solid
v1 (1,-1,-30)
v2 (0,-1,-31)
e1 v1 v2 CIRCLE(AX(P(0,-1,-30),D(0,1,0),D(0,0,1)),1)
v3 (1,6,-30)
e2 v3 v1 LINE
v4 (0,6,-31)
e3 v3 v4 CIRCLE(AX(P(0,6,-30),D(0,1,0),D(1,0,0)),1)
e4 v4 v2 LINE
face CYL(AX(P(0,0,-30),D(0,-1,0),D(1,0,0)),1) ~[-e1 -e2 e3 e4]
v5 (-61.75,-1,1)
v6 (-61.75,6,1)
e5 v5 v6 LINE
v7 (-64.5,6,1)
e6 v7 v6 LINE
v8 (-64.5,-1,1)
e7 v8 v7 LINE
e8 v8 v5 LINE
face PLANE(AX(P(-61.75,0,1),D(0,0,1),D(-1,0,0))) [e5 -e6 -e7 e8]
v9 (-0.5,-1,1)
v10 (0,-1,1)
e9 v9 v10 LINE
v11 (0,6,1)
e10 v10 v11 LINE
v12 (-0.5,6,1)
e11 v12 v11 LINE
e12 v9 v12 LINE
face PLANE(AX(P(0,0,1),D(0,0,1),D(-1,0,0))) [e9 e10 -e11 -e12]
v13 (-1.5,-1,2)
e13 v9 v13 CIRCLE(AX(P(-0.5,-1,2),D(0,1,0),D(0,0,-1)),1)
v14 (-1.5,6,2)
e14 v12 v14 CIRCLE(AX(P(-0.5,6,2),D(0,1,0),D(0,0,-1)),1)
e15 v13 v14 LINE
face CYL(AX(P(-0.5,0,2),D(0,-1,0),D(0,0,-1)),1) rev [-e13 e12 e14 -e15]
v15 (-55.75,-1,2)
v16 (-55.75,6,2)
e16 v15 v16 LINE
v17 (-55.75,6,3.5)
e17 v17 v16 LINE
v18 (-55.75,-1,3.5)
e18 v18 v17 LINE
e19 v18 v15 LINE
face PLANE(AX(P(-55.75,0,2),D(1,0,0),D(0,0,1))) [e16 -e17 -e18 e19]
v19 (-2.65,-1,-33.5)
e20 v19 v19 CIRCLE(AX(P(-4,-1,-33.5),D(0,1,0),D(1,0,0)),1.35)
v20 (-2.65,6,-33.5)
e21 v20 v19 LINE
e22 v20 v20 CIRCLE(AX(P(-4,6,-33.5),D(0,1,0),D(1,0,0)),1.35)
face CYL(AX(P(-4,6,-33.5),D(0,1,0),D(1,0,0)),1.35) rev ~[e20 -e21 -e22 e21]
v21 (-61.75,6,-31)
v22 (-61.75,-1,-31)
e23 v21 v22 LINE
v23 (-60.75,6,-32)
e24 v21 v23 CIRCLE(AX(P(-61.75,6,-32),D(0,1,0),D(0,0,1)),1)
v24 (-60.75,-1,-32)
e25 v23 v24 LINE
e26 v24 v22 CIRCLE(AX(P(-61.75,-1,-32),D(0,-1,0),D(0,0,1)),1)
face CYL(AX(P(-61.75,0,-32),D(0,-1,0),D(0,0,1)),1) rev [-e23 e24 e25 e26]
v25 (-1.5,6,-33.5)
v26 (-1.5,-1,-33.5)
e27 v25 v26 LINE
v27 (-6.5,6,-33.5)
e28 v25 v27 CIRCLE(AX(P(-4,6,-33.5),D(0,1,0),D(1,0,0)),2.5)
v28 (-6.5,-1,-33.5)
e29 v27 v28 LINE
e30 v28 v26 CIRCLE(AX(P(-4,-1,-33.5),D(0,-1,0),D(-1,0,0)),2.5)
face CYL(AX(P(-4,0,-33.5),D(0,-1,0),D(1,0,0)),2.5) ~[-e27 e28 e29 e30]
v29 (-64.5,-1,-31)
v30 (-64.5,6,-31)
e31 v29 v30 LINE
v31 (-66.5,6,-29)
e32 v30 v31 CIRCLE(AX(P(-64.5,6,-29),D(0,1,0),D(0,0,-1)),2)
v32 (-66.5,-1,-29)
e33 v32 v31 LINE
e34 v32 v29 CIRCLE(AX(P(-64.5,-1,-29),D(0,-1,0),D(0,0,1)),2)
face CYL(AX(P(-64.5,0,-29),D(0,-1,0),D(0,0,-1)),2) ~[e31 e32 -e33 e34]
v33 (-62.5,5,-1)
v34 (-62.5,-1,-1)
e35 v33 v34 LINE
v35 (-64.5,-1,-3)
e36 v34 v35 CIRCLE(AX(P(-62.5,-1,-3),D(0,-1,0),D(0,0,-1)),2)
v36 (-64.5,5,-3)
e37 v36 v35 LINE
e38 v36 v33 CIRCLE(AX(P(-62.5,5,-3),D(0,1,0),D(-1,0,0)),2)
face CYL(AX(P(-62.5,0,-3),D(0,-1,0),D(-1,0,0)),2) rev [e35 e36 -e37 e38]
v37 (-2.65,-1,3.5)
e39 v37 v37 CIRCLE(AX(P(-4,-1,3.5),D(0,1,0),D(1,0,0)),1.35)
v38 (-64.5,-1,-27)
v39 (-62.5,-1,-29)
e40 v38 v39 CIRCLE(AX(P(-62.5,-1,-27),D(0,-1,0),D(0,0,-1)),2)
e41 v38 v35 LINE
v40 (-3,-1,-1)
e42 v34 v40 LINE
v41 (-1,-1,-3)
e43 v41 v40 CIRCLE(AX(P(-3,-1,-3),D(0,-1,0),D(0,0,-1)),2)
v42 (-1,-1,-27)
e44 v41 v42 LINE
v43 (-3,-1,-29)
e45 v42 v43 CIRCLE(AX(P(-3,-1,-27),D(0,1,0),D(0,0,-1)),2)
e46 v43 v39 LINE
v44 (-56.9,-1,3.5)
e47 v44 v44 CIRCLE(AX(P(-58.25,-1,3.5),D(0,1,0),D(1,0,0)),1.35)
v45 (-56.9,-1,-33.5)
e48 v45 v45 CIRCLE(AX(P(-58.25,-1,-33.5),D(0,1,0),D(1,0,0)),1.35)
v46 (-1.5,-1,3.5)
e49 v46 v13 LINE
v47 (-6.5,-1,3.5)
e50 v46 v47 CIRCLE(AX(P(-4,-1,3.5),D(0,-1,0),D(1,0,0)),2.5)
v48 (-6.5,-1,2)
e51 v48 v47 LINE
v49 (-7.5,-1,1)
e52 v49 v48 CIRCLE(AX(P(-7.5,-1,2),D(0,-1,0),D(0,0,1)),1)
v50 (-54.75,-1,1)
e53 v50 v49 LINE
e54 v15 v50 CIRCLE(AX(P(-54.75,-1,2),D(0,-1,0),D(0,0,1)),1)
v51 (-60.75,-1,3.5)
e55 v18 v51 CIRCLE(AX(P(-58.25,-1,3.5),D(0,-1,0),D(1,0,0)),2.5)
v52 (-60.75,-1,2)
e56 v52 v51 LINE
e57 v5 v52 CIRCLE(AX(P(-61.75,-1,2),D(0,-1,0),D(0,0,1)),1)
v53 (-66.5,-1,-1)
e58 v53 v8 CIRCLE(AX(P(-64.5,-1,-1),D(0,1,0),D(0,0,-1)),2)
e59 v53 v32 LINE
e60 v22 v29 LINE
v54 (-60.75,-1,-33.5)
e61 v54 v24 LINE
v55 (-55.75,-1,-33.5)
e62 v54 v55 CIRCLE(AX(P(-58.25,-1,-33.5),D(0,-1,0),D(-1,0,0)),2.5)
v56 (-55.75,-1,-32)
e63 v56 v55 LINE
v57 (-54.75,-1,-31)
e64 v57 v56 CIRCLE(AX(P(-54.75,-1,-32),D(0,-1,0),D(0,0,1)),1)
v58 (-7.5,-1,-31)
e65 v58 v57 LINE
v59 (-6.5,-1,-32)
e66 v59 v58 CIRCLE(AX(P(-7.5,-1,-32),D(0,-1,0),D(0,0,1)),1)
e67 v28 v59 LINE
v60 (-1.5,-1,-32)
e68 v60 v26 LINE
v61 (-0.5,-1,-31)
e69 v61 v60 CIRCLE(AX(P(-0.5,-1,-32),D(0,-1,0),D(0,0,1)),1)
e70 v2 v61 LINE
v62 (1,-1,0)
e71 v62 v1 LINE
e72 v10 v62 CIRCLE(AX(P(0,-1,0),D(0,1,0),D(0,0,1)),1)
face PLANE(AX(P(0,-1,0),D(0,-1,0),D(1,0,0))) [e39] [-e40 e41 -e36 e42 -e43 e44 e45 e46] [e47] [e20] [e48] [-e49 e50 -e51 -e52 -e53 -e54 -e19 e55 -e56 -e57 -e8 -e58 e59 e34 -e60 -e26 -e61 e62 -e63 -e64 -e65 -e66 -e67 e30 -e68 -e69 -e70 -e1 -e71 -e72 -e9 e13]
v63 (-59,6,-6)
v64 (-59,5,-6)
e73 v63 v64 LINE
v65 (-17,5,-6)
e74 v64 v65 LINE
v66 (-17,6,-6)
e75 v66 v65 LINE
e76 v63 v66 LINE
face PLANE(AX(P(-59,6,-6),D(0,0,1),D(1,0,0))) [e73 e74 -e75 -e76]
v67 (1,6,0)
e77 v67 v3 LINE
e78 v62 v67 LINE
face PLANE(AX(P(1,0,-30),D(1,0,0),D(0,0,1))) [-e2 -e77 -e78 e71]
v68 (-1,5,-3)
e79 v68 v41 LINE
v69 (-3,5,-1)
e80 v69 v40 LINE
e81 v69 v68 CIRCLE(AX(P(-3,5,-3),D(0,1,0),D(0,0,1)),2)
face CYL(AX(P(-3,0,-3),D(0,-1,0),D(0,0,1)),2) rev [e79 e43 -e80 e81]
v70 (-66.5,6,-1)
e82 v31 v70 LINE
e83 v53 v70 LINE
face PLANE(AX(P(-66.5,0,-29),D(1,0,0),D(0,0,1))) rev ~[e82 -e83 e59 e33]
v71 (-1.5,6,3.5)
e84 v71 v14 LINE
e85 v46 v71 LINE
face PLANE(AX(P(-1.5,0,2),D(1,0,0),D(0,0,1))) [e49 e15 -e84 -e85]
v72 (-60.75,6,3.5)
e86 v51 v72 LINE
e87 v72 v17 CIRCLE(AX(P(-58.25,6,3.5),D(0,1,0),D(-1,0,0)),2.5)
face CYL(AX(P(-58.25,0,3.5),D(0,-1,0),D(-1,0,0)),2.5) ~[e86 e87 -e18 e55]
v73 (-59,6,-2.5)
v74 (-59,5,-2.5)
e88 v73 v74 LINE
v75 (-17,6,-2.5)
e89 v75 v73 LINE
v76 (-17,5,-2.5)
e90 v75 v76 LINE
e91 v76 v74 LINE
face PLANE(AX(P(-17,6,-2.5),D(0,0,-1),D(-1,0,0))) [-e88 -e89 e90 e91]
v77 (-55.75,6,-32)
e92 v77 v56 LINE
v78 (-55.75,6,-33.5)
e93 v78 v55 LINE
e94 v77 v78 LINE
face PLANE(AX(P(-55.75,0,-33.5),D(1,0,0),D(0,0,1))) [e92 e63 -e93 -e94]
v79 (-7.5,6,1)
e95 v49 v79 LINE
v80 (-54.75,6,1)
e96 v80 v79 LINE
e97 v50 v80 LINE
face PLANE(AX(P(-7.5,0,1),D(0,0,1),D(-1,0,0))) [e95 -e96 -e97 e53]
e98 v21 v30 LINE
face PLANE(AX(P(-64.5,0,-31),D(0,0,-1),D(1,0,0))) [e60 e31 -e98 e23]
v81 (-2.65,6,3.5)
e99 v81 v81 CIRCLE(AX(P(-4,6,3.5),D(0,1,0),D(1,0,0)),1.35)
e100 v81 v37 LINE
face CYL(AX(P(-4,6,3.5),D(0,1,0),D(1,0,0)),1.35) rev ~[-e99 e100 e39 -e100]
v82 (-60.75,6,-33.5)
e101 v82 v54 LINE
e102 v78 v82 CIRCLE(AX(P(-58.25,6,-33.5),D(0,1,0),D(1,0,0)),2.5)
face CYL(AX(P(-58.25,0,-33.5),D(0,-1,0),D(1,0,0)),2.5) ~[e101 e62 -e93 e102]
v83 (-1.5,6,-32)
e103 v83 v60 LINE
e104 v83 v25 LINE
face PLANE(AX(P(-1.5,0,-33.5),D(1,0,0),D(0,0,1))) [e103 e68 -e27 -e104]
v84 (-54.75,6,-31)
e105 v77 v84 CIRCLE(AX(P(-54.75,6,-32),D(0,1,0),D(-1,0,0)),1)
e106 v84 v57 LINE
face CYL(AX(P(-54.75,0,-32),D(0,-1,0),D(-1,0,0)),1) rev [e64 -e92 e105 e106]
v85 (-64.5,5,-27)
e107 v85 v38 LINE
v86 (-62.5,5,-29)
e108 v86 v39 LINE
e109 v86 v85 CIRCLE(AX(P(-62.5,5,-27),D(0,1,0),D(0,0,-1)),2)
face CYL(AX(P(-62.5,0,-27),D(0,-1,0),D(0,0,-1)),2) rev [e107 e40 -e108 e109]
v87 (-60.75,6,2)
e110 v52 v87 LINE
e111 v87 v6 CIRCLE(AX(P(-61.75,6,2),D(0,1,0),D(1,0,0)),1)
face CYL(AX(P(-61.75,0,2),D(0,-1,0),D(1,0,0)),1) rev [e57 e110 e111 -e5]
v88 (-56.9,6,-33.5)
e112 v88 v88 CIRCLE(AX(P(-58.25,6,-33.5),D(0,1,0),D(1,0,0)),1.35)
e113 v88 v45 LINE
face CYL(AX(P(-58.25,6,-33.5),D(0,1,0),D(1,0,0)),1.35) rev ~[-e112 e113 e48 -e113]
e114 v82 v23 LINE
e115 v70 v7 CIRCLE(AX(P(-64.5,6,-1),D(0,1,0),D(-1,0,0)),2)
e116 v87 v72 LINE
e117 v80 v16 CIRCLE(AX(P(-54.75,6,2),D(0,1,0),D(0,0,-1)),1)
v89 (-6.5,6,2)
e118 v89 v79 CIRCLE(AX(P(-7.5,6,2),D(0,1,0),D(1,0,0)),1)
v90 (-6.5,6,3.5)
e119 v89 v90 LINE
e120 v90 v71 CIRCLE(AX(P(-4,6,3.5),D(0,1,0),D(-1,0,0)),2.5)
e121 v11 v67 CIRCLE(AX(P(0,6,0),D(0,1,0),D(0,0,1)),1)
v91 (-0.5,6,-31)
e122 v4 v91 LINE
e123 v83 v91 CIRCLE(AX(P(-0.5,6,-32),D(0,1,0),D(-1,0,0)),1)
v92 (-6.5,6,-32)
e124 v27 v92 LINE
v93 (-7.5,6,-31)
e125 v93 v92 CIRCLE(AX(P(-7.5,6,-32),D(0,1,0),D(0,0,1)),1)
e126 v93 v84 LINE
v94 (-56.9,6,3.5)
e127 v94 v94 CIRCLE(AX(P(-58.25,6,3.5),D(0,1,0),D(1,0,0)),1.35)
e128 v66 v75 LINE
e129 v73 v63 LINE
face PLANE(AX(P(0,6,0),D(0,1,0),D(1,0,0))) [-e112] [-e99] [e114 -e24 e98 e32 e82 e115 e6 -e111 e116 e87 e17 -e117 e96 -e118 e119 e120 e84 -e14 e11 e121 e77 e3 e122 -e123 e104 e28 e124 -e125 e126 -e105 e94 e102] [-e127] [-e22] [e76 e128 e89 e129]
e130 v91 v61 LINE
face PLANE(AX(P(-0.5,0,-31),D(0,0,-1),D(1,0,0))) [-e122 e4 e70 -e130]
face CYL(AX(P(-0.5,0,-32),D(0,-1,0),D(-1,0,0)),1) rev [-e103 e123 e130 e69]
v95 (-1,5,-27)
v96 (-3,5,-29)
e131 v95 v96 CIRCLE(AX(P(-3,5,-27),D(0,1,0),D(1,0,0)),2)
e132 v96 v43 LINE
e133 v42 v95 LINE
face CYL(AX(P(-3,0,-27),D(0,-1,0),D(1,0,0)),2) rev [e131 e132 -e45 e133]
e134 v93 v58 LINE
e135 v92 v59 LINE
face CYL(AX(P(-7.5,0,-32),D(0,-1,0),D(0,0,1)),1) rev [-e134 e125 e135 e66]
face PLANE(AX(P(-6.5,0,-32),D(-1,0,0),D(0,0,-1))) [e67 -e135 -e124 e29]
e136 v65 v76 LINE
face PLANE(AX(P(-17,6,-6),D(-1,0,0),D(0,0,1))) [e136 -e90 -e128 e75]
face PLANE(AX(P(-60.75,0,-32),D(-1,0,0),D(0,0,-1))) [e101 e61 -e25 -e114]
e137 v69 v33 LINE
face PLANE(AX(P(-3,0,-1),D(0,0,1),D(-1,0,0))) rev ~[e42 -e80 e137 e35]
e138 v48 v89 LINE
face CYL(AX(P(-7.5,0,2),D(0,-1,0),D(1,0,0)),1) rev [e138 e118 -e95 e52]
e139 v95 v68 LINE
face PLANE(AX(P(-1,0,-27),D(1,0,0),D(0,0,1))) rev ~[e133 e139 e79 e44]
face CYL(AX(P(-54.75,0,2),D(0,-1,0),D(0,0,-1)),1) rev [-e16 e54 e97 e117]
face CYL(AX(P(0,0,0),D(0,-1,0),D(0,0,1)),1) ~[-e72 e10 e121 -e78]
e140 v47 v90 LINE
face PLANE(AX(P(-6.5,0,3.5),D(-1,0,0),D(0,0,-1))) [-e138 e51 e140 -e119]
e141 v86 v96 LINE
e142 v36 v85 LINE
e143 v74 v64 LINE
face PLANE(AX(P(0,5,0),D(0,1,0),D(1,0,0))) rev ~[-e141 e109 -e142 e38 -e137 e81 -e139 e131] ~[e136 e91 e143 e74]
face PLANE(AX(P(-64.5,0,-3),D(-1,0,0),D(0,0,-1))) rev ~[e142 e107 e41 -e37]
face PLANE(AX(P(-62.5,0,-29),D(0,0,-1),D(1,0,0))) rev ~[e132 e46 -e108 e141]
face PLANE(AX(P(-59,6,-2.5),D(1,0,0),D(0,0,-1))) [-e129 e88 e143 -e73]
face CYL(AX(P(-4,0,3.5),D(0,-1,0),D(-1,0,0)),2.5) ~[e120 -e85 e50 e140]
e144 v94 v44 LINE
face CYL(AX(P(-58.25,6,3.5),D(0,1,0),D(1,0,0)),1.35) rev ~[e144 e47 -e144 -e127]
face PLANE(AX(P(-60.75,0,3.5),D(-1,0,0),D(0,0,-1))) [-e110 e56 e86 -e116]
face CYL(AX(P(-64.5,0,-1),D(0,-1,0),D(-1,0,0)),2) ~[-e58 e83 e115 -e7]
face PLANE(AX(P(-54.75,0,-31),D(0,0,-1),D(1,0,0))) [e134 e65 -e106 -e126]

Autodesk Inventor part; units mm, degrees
ref_plane "YZ Plane" through (0, 0, 0) normal (1, 0, 0) x (0, 1, 0)
ref_plane "XZ Plane" through (0, 0, 0) normal (0, 1, 0) x (-1, 0, 0)
ref_plane "XY Plane" through (0, 0, 0) normal (0, 0, 1) x (1, 0, 0)
sketch "Sketch1" plane through (0, 0, 0) normal (0, 1, 0) x (-1, 0, 0)
  line L0 (0, 0) -> (37, 0) construction
  line L1 (37, 0) -> (37, -30) construction
  line L2 (37, -30) -> (0, -30) construction
  line L3 (0, -30) -> (0, 0) construction
  line L4 (75.5, -6) -> (38, -6) construction
  line L5 (38, -6) -> (38, -24) construction
  line L6 (38, -24) -> (75.5, -24) construction
  line L7 (75.5, -24) -> (75.5, -6) construction
  line L8 (94, 0) -> (76.5, 0) construction
  line L9 (76.5, 0) -> (76.5, -28) construction
  line L10 (76.5, -28) -> (94, -28) construction
  line L11 (94, -28) -> (94, 0) construction
  line L12 (-1, 1) -> (117.5, 1)
  line L13 (117.5, 1) -> (117.5, -31)
  line L14 (117.5, -31) -> (-1, -31)
  line L15 (-1, -31) -> (-1, 1)
  line L16 (0, 0) -> (94, 0)
  line L17 (94, 0) -> (94, -30)
  line L18 (94, -30) -> (0, -30)
  line L19 (0, -30) -> (0, 0)
  line L20 (38, -8) -> (37, -8)
  line L21 (37, -8) -> (37, -22)
  line L22 (37, -22) -> (38, -22)
  line L23 (38, -22) -> (38, -8)
  line L24 (73.5, -6) -> (40, -6)
  line L25 (40, -6) -> (40, -5)
  line L26 (40, -5) -> (73.5, -5)
  line L27 (73.5, -5) -> (73.5, -6)
  line L28 (73.5, -24) -> (40, -24)
  line L29 (40, -24) -> (40, -25)
  line L30 (40, -25) -> (73.5, -25)
  line L31 (73.5, -25) -> (73.5, -24)
  line L32 (76.5, -8) -> (75.5, -8)
  line L33 (75.5, -8) -> (75.5, -22)
  line L34 (75.5, -22) -> (76.5, -22)
  line L35 (76.5, -22) -> (76.5, -8)
  line L36 (115, -31) -> (115, -33.5) construction
  line L37 (58.25, -31) -> (58.25, -33.5) construction
  line L38 (4, -31) -> (4, -33.5) construction
  line L39 (115, 1) -> (115, 3.5) construction
  line L40 (58.25, 1) -> (58.25, 3.5) construction
  line L41 (4, 1) -> (4, 3.5) construction
  circle A0 centre (115, -33.5) radius 2.5
  circle A1 centre (58.25, -33.5) radius 2.5
  circle A2 centre (4, -33.5) radius 2.5
  circle A3 centre (4, 3.5) radius 2.5
  circle A4 centre (58.25, 3.5) radius 2.5
  circle A5 centre (115, 3.5) radius 2.5
  line L42 (117.5, 1) -> (117.5, 3.5)
  line L43 (112.5, 3.5) -> (112.5, 1)
  line L44 (60.75, 3.5) -> (60.75, 1)
  line L45 (55.75, 3.5) -> (55.75, 1)
  line L46 (6.5, 3.5) -> (6.5, 1)
  line L47 (1.5, 3.5) -> (1.5, 1)
  line L48 (1.5, -33.5) -> (1.5, -31)
  line L49 (6.5, -33.5) -> (6.5, -31)
  line L50 (55.75, -33.5) -> (55.75, -31)
  line L51 (60.75, -33.5) -> (60.75, -31)
  line L52 (117.5, -33.5) -> (117.5, -31)
  line L53 (112.5, -33.5) -> (112.5, -31)
  circle A6 centre (115, -33.5) radius 1.55
  circle A7 centre (58.25, -33.5) radius 1.55
  circle A8 centre (4, -33.5) radius 1.55
  circle A9 centre (4, 3.5) radius 1.55
  circle A10 centre (58.25, 3.5) radius 1.55
  circle A11 centre (115, 3.5) radius 1.55
  line L54 (57.75, -30) -> (58.75, -30)
  line L55 (58.75, -30) -> (58.75, -25)
  line L56 (58.75, -25) -> (57.75, -25)
  line L57 (57.75, -25) -> (57.75, -30)
  line L58 (57.75, -5) -> (58.75, -5)
  line L59 (58.75, -5) -> (58.75, 0)
  line L60 (58.75, 0) -> (57.75, 0)
  line L61 (57.75, 0) -> (57.75, -5)
  line L62 (40, -25) -> (41, -25)
  line L63 (41, -25) -> (41, -30)
  line L64 (41, -30) -> (40, -30)
  line L65 (40, -30) -> (40, -25)
  line L66 (40, -5) -> (41, -5)
  line L67 (41, -5) -> (41, 0)
  line L68 (41, 0) -> (40, 0)
  line L69 (40, 0) -> (40, -5)
  line L70 (73.5, -5) -> (72.5, -5)
  line L71 (72.5, -5) -> (72.5, 0)
  line L72 (72.5, 0) -> (73.5, 0)
  line L73 (73.5, 0) -> (73.5, -5)
  line L74 (73.5, -25) -> (72.5, -25)
  line L75 (72.5, -25) -> (72.5, -30)
  line L76 (72.5, -30) -> (73.5, -30)
  line L77 (73.5, -30) -> (73.5, -25)
  dimension "d0" = 37
  dimension "d1" = 30
  dimension "d2" = 18
  dimension "d3" = 37.5
  dimension "d4" = 1
  dimension "d5" = 6
  dimension "d6" = 17.5
  dimension "d7" = 28
  dimension "d8" = 1
  dimension "d9" = 1
  dimension "d10" = 1
  dimension "d11" = 1
  dimension "d12" = 117.5
  dimension "d13" = 2
  dimension "d14" = 2
  dimension "d15" = 1
  dimension "d16" = 1
  dimension "d17" = 2
  dimension "d18" = 2
  dimension "d19" = 2
  dimension "d20" = 2
  dimension "d21" = 2.5
  dimension "d22" = 2.5
  dimension "d23" = 5
  dimension "d24" = 2.5
  dimension "d25" = 2.5
  dimension "d26" = 2.5
  dimension "d27" = 2.5
  dimension "d28" = 5
  dimension "d29" = 5
  dimension "d30" = 2.5
  dimension "d31" = 3.1
  dimension "d32" = 3.1
  dimension "d33" = 3.1
  dimension "d34" = 3.1
  dimension "d35" = 3.1
  dimension "d36" = 3.1
  dimension "d44" = 1
  dimension "d45" = 1
  dimension "d46" = 0.5
  dimension "d47" = 0
  dimension "d48" = 1
  dimension "d49" = 1
  dimension "d50" = 1
  dimension "d51" = 1
extrude "Extrusion1" add sketch "Sketch1" along normal blind 7 contours L12 L13 L14 L15 | L47 A3 L12 | A3 L46 L12 | A3 | L14 A2 L48 | L14 L49 A2 | A2 | L45 A4 L12 | A4 L44 L12 | A4 | L14 A1 L50 | L14 L51 A1 | A1 | L43 A5 L12 | A5 L42 L12 | A5 | L14 A0 L53 | L14 L52 A0 | A0 | L16 L67 L26 L69 | L26 L27 L24 L25 | L65 L30 L63 L18 | L16 L59 L26 L61 | L29 L28 L31 L30 | L57 L30 L55 L18 | L16 L73 L26 L71 | L75 L30 L77 L18 | L23 L22 L21 L20 | L35 L34 L33 L32
sketch "Sketch2" plane through (0, 0, 0) normal (0, -1, 0) x (1, 0, 0)
  line L0 (-117.5, -33.5) -> (-117.5, 3.5) projected
  arc A0 (-117.5, -33.5) -> (-112.5, -33.5) centre (-115, -33.5) ccw projected
  line L1 (-112.5, -31) -> (-112.5, -33.5) projected
  line L2 (-60.75, -31) -> (-112.5, -31) projected
  line L3 (-60.75, -33.5) -> (-60.75, -31) projected
  arc A1 (-60.75, -33.5) -> (-55.75, -33.5) centre (-58.25, -33.5) ccw projected
  line L4 (-55.75, -31) -> (-55.75, -33.5) projected
  line L5 (-6.5, -31) -> (-55.75, -31) projected
  line L6 (-6.5, -33.5) -> (-6.5, -31) projected
  arc A2 (-6.5, -33.5) -> (-1.5, -33.5) centre (-4, -33.5) ccw projected
  line L7 (-1.5, -31) -> (-1.5, -33.5) projected
  line L8 (1, -31) -> (-1.5, -31) projected
  line L9 (1, 1) -> (1, -31) projected
  line L10 (-1.5, 1) -> (1, 1) projected
  line L11 (-1.5, 3.5) -> (-1.5, 1) projected
  arc A3 (-1.5, 3.5) -> (-6.5, 3.5) centre (-4, 3.5) ccw projected
  line L12 (-6.5, 1) -> (-6.5, 3.5) projected
  line L13 (-55.75, 1) -> (-6.5, 1) projected
  line L14 (-55.75, 3.5) -> (-55.75, 1) projected
  arc A4 (-55.75, 3.5) -> (-60.75, 3.5) centre (-58.25, 3.5) ccw projected
  line L15 (-60.75, 1) -> (-60.75, 3.5) projected
  line L16 (-112.5, 1) -> (-60.75, 1) projected
  line L17 (-112.5, 3.5) -> (-112.5, 1) projected
  arc A5 (-112.5, 3.5) -> (-117.5, 3.5) centre (-115, 3.5) ccw projected
  circle A6 centre (-58.25, 3.5) radius 1.55 projected
  circle A7 centre (-4, 3.5) radius 1.55 projected
  circle A8 centre (-4, -33.5) radius 1.55 projected
  circle A9 centre (-58.25, -33.5) radius 1.55 projected
  circle A10 centre (-115, 3.5) radius 1.55 projected
  circle A11 centre (-115, -33.5) radius 1.55 projected
  line L18 (-41, 0) -> (-57.75, 0) projected
  line L19 (0, -30) -> (0, 0) projected
  line L20 (-57.75, -30) -> (-41, -30) projected
  line L21 (-94, 0) -> (-94, -30) projected
  line L22 (-41, -5) -> (-41, 0) projected
  line L23 (-57.75, -5) -> (-41, -5) projected
  line L24 (-57.75, 0) -> (-57.75, -5) projected
  line L25 (-41, -30) -> (-41, -25) projected
  line L26 (-57.75, -25) -> (-57.75, -30) projected
  line L27 (-41, -25) -> (-57.75, -25) projected
  line L28 (-72.5, -25) -> (-72.5, -30) projected
  line L29 (-58.75, -25) -> (-72.5, -25) projected
  line L30 (-58.75, -30) -> (-58.75, -25) projected
  line L31 (-72.5, -30) -> (-58.75, -30) projected
  line L32 (-72.5, 0) -> (-72.5, -5) projected
  line L33 (-58.75, 0) -> (-72.5, 0) projected
  line L34 (-58.75, -5) -> (-58.75, 0) projected
  line L35 (-72.5, -5) -> (-58.75, -5) projected
  line L36 (-73.5, 0) -> (-94, 0) projected
  line L37 (-73.5, -6) -> (-73.5, 0) projected
  line L38 (-40, -6) -> (-73.5, -6) projected
  line L39 (-40, 0) -> (-40, -6) projected
  line L40 (0, 0) -> (-40, 0) projected
  line L41 (-40, -30) -> (0, -30) projected
  line L42 (-40, -24) -> (-40, -30) projected
  line L43 (-73.5, -24) -> (-40, -24) projected
  line L44 (-73.5, -30) -> (-73.5, -24) projected
  line L45 (-94, -30) -> (-73.5, -30) projected
extrude "Extrusion2" add sketch "Sketch2" along normal blind 1 contours L0 A5 L17 L16 L15 A4 L14 L13 L12 A3 L11 L10 L9 L8 L7 A2 L6 L5 L4 A1 L3 L2 L1 A0 | L22 L23 L24 L18 | L41 L42 L43 L44 L45 L21 L36 L37 L38 L39 L40 L19 | L26 L27 L25 L20 | L29 L30 L31 L28 | L33 L34 L35 L32
fillet "Fillet2" radius 1 32 edges at (-73.5, 3.5, -6) (-73.5, 3.5, -24) (-40, 3.5, -24) (1, 3, -31) (-1.5, 3, -31) (1, 3, 1) (-55.75, 3, -31) (-1.5, 3, 1) (-55.75, 3, 1) (-112.5, 3, 1) (-112.5, 3, -31) (-60.75, 3, -31) (-6.5, 3, -31) (-60.75, 3, 1) (-6.5, 3, 1) (-40, 3.5, -6) (-72.5, 3.5, 0) (-57.75, 3.5, 0) (-72.5, 3.5, -25) (-57.75, 3.5, -25) (-41, 3.5, -25) (-58.75, 3.5, -25) (-41, 3.5, 0) (-58.75, 3.5, 0) (-72.5, 3.5, -30) (-57.75, 3.5, -30) (-57.75, 3.5, -5) (-72.5, 3.5, -5) (-41, 3.5, -5) (-58.75, 3.5, -5) (-58.75, 3.5, -30) (-41, 3.5, -30)
sketch "Sketch5" plane through (0, 7, 0) normal (0, 1, 0) x (1, 0, 0)
  line L0 (-120.447, 38.9055) -> (3.6698, 38.9055)
  line L1 (3.6698, 38.9055) -> (3.6698, -10.7705)
  line L2 (3.6698, -10.7705) -> (-120.447, -10.7705)
  line L3 (-120.447, -10.7705) -> (-120.447, 38.9055)
  point P0 (0, 0)
extrude "Extrusion5" cut sketch "Sketch5" against normal blind 7
sketch "Sketch13" plane through (0, 0, 0) normal (0, 1, 0) x (1, 0, 0)
  line L0 (-64.5, 29) -> (-1, 29)
  line L1 (-1, 29) -> (-1, 1)
  line L2 (-1, 1) -> (-64.5, 1)
  line L3 (-64.5, 1) -> (-64.5, 29)
  line L4 (1, 30) -> (1, 0) projected
  line L5 (-54.75, 31) -> (-7.5, 31) projected
  line L6 (-7.5, -1) -> (-54.75, -1) projected
  line L7 (-117.5, -3.5) -> (-117.5, 33.5) projected
  line L8 (-77.5, 28.5) -> (-67.5, 28.5)
  line L9 (-67.5, 28.5) -> (-67.5, 21.5)
  line L10 (-67.5, 21.5) -> (-77.5, 21.5)
  line L11 (-77.5, 21.5) -> (-77.5, 28.5)
  line L12 (-77.5, 11) -> (-67.5, 11)
  line L13 (-67.5, 11) -> (-67.5, 4)
  line L14 (-67.5, 4) -> (-77.5, 4)
  line L15 (-77.5, 4) -> (-77.5, 11)
  line L16 (-111.5, 31) -> (-61.75, 31) projected
  line L17 (-61.75, -1) -> (-111.5, -1) projected
  point P0 (0, 0)
  point P1 (-77.5, 25)
  point P2 (-77.5, 7.5)
  point P3 (-67.5, 25)
  point P4 (-67.5, 7.5)
  dimension "d114" = 2
  dimension "d115" = 2
  dimension "d116" = 2
  dimension "d117" = 53
  dimension "d118" = 50
  dimension "d119" = 10
  dimension "d120" = 2.5
  dimension "d121" = 5
  dimension "d122" = 12
  dimension "d123" = 9.5
extrude "Extrusion15" cut sketch "Sketch13" against normal through all
fillet "Fillet4" radius 2 12 edges at (-64.5, -0.5, -29) (-77.5, -0.5, -28.5) (-77.5, -0.5, -11) (-1, -0.5, -29) (-1, -0.5, -1) (-67.5, -0.5, -4) (-67.5, -0.5, -21.5) (-64.5, -0.5, -1) (-77.5, -0.5, -4) (-77.5, -0.5, -21.5) (-67.5, -0.5, -28.5) (-67.5, -0.5, -11)
sketch "Sketch14" plane through (0, 0, 0) normal (0, 1, 0) x (1, 0, 0)
  line L0 (-122.4495, 38.8167) -> (-66.5, 38.8167)
  line L1 (-66.5, 38.8167) -> (-66.5, -7.5012)
  line L2 (-66.5, -7.5012) -> (-122.4495, -7.5012)
  line L3 (-122.4495, -7.5012) -> (-122.4495, 38.8167)
  line L4 (-64.5, 3) -> (-64.5, 27) projected
  point P0 (0, 0)
  dimension "d127" = 2
extrude "Extrusion16" cut sketch "Sketch14" against normal blind 10
fillet "Fillet5" radius 2 2 edges at (-66.5, -0.5, 1) (-66.5, -0.5, -31)
sketch "Sketch15" plane through (0, -1, 0) normal (0, -1, 0) x (1, 0, 0)
  point P0 (0, 0)
sketch "Sketch16" plane through (0, 0, 0) normal (0, 1, 0) x (1, 0, 0)
  arc A0 (-64.5, 31) -> (-66.5, 29) centre (-64.5, 29) ccw projected
  line L0 (-66.5, 29) -> (-66.5, 1) projected
  arc A1 (-66.5, 1) -> (-64.5, -1) centre (-64.5, 1) ccw projected
  line L1 (-61.75, -1) -> (-64.5, -1) projected
  arc A2 (-60.75, -2) -> (-61.75, -1) centre (-61.75, -2) ccw projected
  line L2 (-60.75, -3.5) -> (-60.75, -2) projected
  arc A3 (-60.75, -3.5) -> (-55.75, -3.5) centre (-58.25, -3.5) ccw projected
  line L3 (-55.75, -2) -> (-55.75, -3.5) projected
  arc A4 (-54.75, -1) -> (-55.75, -2) centre (-54.75, -2) ccw projected
  line L4 (-7.5, -1) -> (-54.75, -1) projected
  arc A5 (-6.5, -2) -> (-7.5, -1) centre (-7.5, -2) ccw projected
  line L5 (-6.5, -3.5) -> (-6.5, -2) projected
  arc A6 (-6.5, -3.5) -> (-1.5, -3.5) centre (-4, -3.5) ccw projected
  line L6 (-1.5, -2) -> (-1.5, -3.5) projected
  arc A7 (-0.5, -1) -> (-1.5, -2) centre (-0.5, -2) ccw projected
  line L7 (0, -1) -> (-0.5, -1) projected
  arc A8 (0, -1) -> (1, 0) centre (0, 0) ccw projected
  line L8 (1, 30) -> (1, 0) projected
  arc A9 (1, 30) -> (0, 31) centre (0, 30) ccw projected
  line L9 (-0.5, 31) -> (0, 31) projected
  arc A10 (-1.5, 32) -> (-0.5, 31) centre (-0.5, 32) ccw projected
  line L10 (-1.5, 33.5) -> (-1.5, 32) projected
  arc A11 (-1.5, 33.5) -> (-6.5, 33.5) centre (-4, 33.5) ccw projected
  line L11 (-6.5, 32) -> (-6.5, 33.5) projected
  arc A12 (-7.5, 31) -> (-6.5, 32) centre (-7.5, 32) ccw projected
  line L12 (-54.75, 31) -> (-7.5, 31) projected
  arc A13 (-55.75, 32) -> (-54.75, 31) centre (-54.75, 32) ccw projected
  line L13 (-55.75, 33.5) -> (-55.75, 32) projected
  arc A14 (-55.75, 33.5) -> (-60.75, 33.5) centre (-58.25, 33.5) ccw projected
  line L14 (-60.75, 32) -> (-60.75, 33.5) projected
  arc A15 (-61.75, 31) -> (-60.75, 32) centre (-61.75, 32) ccw projected
  line L15 (-64.5, 31) -> (-61.75, 31) projected
  circle A16 centre (-58.25, 33.5) radius 1.55 projected
  circle A17 centre (-4, 33.5) radius 1.55 projected
  circle A18 centre (-4, -3.5) radius 1.55 projected
  circle A19 centre (-58.25, -3.5) radius 1.55 projected
  line L16 (-1, 27) -> (-1, 3) projected
  arc A20 (-3, 1) -> (-1, 3) centre (-3, 3) ccw projected
  line L17 (-3, 1) -> (-62.5, 1) projected
  arc A21 (-64.5, 3) -> (-62.5, 1) centre (-62.5, 3) ccw projected
  line L18 (-64.5, 3) -> (-64.5, 27) projected
  arc A22 (-62.5, 29) -> (-64.5, 27) centre (-62.5, 27) ccw projected
  line L19 (-62.5, 29) -> (-3, 29) projected
  arc A23 (-1, 27) -> (-3, 29) centre (-3, 27) ccw projected
  point P0 (0, 0)
extrude "Extrusion17" add sketch "Sketch16" along normal blind 5
sketch "Sketch17" plane through (0, 5, 0) normal (0, 1, 0) x (1, 0, 0)
  arc A0 (-64.5, 31) -> (-66.5, 29) centre (-64.5, 29) ccw projected
  line L0 (-66.5, 29) -> (-66.5, 1) projected
  arc A1 (-66.5, 1) -> (-64.5, -1) centre (-64.5, 1) ccw projected
  line L1 (-64.5, -1) -> (-61.75, -1) projected
  arc A2 (-60.75, -2) -> (-61.75, -1) centre (-61.75, -2) ccw projected
  line L2 (-60.75, -2) -> (-60.75, -3.5) projected
  arc A3 (-60.75, -3.5) -> (-55.75, -3.5) centre (-58.25, -3.5) ccw projected
  line L3 (-55.75, -3.5) -> (-55.75, -2) projected
  arc A4 (-54.75, -1) -> (-55.75, -2) centre (-54.75, -2) ccw projected
  line L4 (-54.75, -1) -> (-7.5, -1) projected
  arc A5 (-6.5, -2) -> (-7.5, -1) centre (-7.5, -2) ccw projected
  line L5 (-6.5, -2) -> (-6.5, -3.5) projected
  arc A6 (-6.5, -3.5) -> (-1.5, -3.5) centre (-4, -3.5) ccw projected
  line L6 (-1.5, -3.5) -> (-1.5, -2) projected
  arc A7 (-0.5, -1) -> (-1.5, -2) centre (-0.5, -2) ccw projected
  line L7 (-0.5, -1) -> (0, -1) projected
  arc A8 (0, -1) -> (1, 0) centre (0, 0) ccw projected
  line L8 (1, 0) -> (1, 30) projected
  arc A9 (1, 30) -> (0, 31) centre (0, 30) ccw projected
  line L9 (0, 31) -> (-0.5, 31) projected
  arc A10 (-1.5, 32) -> (-0.5, 31) centre (-0.5, 32) ccw projected
  line L10 (-1.5, 32) -> (-1.5, 33.5) projected
  arc A11 (-1.5, 33.5) -> (-6.5, 33.5) centre (-4, 33.5) ccw projected
  line L11 (-6.5, 33.5) -> (-6.5, 32) projected
  arc A12 (-7.5, 31) -> (-6.5, 32) centre (-7.5, 32) ccw projected
  line L12 (-7.5, 31) -> (-54.75, 31) projected
  arc A13 (-55.75, 32) -> (-54.75, 31) centre (-54.75, 32) ccw projected
  line L13 (-55.75, 32) -> (-55.75, 33.5) projected
  arc A14 (-55.75, 33.5) -> (-60.75, 33.5) centre (-58.25, 33.5) ccw projected
  line L14 (-60.75, 33.5) -> (-60.75, 32) projected
  arc A15 (-61.75, 31) -> (-60.75, 32) centre (-61.75, 32) ccw projected
  line L15 (-61.75, 31) -> (-64.5, 31) projected
  line L16 (-62.5, 29) -> (-3, 29) projected
  arc A16 (-1, 27) -> (-3, 29) centre (-3, 27) ccw projected
  line L17 (-1, 27) -> (-1, 3) projected
  arc A17 (-3, 1) -> (-1, 3) centre (-3, 3) ccw projected
  line L18 (-3, 1) -> (-62.5, 1) projected
  arc A18 (-64.5, 3) -> (-62.5, 1) centre (-62.5, 3) ccw projected
  line L19 (-64.5, 3) -> (-64.5, 27) projected
  arc A19 (-62.5, 29) -> (-64.5, 27) centre (-62.5, 27) ccw projected
  circle A20 centre (-58.25, -3.5) radius 1.55 projected
  circle A21 centre (-4, -3.5) radius 1.55 projected
  circle A22 centre (-4, 33.5) radius 1.55 projected
  circle A23 centre (-58.25, 33.5) radius 1.55 projected
  point P0 (0, 0)
extrude "Extrusion18" add sketch "Sketch17" along normal blind 1 contours L15 A15 L14 A14 L13 A13 L12 A12 L11 A11 L10 A10 L9 A9 L8 A8 L7 A7 L6 A6 L5 A5 L4 A4 L3 A3 L2 A2 L1 A1 L0 A0 | L16 A16 L17 A17 L18 A18 L19 A19
sketch "Sketch18" plane through (0, 6, 0) normal (0, 1, 0) x (1, 0, 0)
  line L0 (-59, 6) -> (-17, 6)
  line L1 (-17, 6) -> (-17, 2.5)
  line L2 (-17, 2.5) -> (-59, 2.5)
  line L3 (-59, 2.5) -> (-59, 6)
  circle A0 centre (-4, -3.5) radius 1.55 projected
  circle A1 centre (-58.25, -3.5) radius 1.55 projected
  circle A2 centre (-4, 33.5) radius 1.55 projected
  line L4 (-54.75, -1) -> (-7.5, -1) projected
  line L5 (-66.5, 29) -> (-66.5, 1) projected
  line L6 (1, 0) -> (1, 30) projected
  point P0 (0, 0)
  dimension "d147" = 3.5
  dimension "d148" = 7
  dimension "d149" = 7.5
  dimension "d150" = 18
extrude "Extrusion20" cut sketch "Sketch18" against normal blind 10 contours L0 L1 L2 L3
sketch "Sketch20" plane through (0, 6, 0) normal (0, 1, 0) x (1, 0, 0)
  circle A0 centre (-58.25, 33.5) radius 1.55 projected
  circle A1 centre (-4, 33.5) radius 1.55 projected
  circle A2 centre (-4, -3.5) radius 1.55 projected
  circle A3 centre (-58.25, -3.5) radius 1.55 projected
  circle A4 centre (-58.25, 33.5) radius 1.35
  circle A5 centre (-4, 33.5) radius 1.35
  circle A6 centre (-58.25, -3.5) radius 1.35
  circle A7 centre (-4, -3.5) radius 1.35
  point P0 (0, 0)
  dimension "d153" = 2.7
  dimension "d154" = 2.7
  dimension "d155" = 2.7
  dimension "d156" = 2.7
extrude "Extrusion21" add sketch "Sketch20" against normal up to surface (7 mm away)
properties part number "frontpackCOVER2"
